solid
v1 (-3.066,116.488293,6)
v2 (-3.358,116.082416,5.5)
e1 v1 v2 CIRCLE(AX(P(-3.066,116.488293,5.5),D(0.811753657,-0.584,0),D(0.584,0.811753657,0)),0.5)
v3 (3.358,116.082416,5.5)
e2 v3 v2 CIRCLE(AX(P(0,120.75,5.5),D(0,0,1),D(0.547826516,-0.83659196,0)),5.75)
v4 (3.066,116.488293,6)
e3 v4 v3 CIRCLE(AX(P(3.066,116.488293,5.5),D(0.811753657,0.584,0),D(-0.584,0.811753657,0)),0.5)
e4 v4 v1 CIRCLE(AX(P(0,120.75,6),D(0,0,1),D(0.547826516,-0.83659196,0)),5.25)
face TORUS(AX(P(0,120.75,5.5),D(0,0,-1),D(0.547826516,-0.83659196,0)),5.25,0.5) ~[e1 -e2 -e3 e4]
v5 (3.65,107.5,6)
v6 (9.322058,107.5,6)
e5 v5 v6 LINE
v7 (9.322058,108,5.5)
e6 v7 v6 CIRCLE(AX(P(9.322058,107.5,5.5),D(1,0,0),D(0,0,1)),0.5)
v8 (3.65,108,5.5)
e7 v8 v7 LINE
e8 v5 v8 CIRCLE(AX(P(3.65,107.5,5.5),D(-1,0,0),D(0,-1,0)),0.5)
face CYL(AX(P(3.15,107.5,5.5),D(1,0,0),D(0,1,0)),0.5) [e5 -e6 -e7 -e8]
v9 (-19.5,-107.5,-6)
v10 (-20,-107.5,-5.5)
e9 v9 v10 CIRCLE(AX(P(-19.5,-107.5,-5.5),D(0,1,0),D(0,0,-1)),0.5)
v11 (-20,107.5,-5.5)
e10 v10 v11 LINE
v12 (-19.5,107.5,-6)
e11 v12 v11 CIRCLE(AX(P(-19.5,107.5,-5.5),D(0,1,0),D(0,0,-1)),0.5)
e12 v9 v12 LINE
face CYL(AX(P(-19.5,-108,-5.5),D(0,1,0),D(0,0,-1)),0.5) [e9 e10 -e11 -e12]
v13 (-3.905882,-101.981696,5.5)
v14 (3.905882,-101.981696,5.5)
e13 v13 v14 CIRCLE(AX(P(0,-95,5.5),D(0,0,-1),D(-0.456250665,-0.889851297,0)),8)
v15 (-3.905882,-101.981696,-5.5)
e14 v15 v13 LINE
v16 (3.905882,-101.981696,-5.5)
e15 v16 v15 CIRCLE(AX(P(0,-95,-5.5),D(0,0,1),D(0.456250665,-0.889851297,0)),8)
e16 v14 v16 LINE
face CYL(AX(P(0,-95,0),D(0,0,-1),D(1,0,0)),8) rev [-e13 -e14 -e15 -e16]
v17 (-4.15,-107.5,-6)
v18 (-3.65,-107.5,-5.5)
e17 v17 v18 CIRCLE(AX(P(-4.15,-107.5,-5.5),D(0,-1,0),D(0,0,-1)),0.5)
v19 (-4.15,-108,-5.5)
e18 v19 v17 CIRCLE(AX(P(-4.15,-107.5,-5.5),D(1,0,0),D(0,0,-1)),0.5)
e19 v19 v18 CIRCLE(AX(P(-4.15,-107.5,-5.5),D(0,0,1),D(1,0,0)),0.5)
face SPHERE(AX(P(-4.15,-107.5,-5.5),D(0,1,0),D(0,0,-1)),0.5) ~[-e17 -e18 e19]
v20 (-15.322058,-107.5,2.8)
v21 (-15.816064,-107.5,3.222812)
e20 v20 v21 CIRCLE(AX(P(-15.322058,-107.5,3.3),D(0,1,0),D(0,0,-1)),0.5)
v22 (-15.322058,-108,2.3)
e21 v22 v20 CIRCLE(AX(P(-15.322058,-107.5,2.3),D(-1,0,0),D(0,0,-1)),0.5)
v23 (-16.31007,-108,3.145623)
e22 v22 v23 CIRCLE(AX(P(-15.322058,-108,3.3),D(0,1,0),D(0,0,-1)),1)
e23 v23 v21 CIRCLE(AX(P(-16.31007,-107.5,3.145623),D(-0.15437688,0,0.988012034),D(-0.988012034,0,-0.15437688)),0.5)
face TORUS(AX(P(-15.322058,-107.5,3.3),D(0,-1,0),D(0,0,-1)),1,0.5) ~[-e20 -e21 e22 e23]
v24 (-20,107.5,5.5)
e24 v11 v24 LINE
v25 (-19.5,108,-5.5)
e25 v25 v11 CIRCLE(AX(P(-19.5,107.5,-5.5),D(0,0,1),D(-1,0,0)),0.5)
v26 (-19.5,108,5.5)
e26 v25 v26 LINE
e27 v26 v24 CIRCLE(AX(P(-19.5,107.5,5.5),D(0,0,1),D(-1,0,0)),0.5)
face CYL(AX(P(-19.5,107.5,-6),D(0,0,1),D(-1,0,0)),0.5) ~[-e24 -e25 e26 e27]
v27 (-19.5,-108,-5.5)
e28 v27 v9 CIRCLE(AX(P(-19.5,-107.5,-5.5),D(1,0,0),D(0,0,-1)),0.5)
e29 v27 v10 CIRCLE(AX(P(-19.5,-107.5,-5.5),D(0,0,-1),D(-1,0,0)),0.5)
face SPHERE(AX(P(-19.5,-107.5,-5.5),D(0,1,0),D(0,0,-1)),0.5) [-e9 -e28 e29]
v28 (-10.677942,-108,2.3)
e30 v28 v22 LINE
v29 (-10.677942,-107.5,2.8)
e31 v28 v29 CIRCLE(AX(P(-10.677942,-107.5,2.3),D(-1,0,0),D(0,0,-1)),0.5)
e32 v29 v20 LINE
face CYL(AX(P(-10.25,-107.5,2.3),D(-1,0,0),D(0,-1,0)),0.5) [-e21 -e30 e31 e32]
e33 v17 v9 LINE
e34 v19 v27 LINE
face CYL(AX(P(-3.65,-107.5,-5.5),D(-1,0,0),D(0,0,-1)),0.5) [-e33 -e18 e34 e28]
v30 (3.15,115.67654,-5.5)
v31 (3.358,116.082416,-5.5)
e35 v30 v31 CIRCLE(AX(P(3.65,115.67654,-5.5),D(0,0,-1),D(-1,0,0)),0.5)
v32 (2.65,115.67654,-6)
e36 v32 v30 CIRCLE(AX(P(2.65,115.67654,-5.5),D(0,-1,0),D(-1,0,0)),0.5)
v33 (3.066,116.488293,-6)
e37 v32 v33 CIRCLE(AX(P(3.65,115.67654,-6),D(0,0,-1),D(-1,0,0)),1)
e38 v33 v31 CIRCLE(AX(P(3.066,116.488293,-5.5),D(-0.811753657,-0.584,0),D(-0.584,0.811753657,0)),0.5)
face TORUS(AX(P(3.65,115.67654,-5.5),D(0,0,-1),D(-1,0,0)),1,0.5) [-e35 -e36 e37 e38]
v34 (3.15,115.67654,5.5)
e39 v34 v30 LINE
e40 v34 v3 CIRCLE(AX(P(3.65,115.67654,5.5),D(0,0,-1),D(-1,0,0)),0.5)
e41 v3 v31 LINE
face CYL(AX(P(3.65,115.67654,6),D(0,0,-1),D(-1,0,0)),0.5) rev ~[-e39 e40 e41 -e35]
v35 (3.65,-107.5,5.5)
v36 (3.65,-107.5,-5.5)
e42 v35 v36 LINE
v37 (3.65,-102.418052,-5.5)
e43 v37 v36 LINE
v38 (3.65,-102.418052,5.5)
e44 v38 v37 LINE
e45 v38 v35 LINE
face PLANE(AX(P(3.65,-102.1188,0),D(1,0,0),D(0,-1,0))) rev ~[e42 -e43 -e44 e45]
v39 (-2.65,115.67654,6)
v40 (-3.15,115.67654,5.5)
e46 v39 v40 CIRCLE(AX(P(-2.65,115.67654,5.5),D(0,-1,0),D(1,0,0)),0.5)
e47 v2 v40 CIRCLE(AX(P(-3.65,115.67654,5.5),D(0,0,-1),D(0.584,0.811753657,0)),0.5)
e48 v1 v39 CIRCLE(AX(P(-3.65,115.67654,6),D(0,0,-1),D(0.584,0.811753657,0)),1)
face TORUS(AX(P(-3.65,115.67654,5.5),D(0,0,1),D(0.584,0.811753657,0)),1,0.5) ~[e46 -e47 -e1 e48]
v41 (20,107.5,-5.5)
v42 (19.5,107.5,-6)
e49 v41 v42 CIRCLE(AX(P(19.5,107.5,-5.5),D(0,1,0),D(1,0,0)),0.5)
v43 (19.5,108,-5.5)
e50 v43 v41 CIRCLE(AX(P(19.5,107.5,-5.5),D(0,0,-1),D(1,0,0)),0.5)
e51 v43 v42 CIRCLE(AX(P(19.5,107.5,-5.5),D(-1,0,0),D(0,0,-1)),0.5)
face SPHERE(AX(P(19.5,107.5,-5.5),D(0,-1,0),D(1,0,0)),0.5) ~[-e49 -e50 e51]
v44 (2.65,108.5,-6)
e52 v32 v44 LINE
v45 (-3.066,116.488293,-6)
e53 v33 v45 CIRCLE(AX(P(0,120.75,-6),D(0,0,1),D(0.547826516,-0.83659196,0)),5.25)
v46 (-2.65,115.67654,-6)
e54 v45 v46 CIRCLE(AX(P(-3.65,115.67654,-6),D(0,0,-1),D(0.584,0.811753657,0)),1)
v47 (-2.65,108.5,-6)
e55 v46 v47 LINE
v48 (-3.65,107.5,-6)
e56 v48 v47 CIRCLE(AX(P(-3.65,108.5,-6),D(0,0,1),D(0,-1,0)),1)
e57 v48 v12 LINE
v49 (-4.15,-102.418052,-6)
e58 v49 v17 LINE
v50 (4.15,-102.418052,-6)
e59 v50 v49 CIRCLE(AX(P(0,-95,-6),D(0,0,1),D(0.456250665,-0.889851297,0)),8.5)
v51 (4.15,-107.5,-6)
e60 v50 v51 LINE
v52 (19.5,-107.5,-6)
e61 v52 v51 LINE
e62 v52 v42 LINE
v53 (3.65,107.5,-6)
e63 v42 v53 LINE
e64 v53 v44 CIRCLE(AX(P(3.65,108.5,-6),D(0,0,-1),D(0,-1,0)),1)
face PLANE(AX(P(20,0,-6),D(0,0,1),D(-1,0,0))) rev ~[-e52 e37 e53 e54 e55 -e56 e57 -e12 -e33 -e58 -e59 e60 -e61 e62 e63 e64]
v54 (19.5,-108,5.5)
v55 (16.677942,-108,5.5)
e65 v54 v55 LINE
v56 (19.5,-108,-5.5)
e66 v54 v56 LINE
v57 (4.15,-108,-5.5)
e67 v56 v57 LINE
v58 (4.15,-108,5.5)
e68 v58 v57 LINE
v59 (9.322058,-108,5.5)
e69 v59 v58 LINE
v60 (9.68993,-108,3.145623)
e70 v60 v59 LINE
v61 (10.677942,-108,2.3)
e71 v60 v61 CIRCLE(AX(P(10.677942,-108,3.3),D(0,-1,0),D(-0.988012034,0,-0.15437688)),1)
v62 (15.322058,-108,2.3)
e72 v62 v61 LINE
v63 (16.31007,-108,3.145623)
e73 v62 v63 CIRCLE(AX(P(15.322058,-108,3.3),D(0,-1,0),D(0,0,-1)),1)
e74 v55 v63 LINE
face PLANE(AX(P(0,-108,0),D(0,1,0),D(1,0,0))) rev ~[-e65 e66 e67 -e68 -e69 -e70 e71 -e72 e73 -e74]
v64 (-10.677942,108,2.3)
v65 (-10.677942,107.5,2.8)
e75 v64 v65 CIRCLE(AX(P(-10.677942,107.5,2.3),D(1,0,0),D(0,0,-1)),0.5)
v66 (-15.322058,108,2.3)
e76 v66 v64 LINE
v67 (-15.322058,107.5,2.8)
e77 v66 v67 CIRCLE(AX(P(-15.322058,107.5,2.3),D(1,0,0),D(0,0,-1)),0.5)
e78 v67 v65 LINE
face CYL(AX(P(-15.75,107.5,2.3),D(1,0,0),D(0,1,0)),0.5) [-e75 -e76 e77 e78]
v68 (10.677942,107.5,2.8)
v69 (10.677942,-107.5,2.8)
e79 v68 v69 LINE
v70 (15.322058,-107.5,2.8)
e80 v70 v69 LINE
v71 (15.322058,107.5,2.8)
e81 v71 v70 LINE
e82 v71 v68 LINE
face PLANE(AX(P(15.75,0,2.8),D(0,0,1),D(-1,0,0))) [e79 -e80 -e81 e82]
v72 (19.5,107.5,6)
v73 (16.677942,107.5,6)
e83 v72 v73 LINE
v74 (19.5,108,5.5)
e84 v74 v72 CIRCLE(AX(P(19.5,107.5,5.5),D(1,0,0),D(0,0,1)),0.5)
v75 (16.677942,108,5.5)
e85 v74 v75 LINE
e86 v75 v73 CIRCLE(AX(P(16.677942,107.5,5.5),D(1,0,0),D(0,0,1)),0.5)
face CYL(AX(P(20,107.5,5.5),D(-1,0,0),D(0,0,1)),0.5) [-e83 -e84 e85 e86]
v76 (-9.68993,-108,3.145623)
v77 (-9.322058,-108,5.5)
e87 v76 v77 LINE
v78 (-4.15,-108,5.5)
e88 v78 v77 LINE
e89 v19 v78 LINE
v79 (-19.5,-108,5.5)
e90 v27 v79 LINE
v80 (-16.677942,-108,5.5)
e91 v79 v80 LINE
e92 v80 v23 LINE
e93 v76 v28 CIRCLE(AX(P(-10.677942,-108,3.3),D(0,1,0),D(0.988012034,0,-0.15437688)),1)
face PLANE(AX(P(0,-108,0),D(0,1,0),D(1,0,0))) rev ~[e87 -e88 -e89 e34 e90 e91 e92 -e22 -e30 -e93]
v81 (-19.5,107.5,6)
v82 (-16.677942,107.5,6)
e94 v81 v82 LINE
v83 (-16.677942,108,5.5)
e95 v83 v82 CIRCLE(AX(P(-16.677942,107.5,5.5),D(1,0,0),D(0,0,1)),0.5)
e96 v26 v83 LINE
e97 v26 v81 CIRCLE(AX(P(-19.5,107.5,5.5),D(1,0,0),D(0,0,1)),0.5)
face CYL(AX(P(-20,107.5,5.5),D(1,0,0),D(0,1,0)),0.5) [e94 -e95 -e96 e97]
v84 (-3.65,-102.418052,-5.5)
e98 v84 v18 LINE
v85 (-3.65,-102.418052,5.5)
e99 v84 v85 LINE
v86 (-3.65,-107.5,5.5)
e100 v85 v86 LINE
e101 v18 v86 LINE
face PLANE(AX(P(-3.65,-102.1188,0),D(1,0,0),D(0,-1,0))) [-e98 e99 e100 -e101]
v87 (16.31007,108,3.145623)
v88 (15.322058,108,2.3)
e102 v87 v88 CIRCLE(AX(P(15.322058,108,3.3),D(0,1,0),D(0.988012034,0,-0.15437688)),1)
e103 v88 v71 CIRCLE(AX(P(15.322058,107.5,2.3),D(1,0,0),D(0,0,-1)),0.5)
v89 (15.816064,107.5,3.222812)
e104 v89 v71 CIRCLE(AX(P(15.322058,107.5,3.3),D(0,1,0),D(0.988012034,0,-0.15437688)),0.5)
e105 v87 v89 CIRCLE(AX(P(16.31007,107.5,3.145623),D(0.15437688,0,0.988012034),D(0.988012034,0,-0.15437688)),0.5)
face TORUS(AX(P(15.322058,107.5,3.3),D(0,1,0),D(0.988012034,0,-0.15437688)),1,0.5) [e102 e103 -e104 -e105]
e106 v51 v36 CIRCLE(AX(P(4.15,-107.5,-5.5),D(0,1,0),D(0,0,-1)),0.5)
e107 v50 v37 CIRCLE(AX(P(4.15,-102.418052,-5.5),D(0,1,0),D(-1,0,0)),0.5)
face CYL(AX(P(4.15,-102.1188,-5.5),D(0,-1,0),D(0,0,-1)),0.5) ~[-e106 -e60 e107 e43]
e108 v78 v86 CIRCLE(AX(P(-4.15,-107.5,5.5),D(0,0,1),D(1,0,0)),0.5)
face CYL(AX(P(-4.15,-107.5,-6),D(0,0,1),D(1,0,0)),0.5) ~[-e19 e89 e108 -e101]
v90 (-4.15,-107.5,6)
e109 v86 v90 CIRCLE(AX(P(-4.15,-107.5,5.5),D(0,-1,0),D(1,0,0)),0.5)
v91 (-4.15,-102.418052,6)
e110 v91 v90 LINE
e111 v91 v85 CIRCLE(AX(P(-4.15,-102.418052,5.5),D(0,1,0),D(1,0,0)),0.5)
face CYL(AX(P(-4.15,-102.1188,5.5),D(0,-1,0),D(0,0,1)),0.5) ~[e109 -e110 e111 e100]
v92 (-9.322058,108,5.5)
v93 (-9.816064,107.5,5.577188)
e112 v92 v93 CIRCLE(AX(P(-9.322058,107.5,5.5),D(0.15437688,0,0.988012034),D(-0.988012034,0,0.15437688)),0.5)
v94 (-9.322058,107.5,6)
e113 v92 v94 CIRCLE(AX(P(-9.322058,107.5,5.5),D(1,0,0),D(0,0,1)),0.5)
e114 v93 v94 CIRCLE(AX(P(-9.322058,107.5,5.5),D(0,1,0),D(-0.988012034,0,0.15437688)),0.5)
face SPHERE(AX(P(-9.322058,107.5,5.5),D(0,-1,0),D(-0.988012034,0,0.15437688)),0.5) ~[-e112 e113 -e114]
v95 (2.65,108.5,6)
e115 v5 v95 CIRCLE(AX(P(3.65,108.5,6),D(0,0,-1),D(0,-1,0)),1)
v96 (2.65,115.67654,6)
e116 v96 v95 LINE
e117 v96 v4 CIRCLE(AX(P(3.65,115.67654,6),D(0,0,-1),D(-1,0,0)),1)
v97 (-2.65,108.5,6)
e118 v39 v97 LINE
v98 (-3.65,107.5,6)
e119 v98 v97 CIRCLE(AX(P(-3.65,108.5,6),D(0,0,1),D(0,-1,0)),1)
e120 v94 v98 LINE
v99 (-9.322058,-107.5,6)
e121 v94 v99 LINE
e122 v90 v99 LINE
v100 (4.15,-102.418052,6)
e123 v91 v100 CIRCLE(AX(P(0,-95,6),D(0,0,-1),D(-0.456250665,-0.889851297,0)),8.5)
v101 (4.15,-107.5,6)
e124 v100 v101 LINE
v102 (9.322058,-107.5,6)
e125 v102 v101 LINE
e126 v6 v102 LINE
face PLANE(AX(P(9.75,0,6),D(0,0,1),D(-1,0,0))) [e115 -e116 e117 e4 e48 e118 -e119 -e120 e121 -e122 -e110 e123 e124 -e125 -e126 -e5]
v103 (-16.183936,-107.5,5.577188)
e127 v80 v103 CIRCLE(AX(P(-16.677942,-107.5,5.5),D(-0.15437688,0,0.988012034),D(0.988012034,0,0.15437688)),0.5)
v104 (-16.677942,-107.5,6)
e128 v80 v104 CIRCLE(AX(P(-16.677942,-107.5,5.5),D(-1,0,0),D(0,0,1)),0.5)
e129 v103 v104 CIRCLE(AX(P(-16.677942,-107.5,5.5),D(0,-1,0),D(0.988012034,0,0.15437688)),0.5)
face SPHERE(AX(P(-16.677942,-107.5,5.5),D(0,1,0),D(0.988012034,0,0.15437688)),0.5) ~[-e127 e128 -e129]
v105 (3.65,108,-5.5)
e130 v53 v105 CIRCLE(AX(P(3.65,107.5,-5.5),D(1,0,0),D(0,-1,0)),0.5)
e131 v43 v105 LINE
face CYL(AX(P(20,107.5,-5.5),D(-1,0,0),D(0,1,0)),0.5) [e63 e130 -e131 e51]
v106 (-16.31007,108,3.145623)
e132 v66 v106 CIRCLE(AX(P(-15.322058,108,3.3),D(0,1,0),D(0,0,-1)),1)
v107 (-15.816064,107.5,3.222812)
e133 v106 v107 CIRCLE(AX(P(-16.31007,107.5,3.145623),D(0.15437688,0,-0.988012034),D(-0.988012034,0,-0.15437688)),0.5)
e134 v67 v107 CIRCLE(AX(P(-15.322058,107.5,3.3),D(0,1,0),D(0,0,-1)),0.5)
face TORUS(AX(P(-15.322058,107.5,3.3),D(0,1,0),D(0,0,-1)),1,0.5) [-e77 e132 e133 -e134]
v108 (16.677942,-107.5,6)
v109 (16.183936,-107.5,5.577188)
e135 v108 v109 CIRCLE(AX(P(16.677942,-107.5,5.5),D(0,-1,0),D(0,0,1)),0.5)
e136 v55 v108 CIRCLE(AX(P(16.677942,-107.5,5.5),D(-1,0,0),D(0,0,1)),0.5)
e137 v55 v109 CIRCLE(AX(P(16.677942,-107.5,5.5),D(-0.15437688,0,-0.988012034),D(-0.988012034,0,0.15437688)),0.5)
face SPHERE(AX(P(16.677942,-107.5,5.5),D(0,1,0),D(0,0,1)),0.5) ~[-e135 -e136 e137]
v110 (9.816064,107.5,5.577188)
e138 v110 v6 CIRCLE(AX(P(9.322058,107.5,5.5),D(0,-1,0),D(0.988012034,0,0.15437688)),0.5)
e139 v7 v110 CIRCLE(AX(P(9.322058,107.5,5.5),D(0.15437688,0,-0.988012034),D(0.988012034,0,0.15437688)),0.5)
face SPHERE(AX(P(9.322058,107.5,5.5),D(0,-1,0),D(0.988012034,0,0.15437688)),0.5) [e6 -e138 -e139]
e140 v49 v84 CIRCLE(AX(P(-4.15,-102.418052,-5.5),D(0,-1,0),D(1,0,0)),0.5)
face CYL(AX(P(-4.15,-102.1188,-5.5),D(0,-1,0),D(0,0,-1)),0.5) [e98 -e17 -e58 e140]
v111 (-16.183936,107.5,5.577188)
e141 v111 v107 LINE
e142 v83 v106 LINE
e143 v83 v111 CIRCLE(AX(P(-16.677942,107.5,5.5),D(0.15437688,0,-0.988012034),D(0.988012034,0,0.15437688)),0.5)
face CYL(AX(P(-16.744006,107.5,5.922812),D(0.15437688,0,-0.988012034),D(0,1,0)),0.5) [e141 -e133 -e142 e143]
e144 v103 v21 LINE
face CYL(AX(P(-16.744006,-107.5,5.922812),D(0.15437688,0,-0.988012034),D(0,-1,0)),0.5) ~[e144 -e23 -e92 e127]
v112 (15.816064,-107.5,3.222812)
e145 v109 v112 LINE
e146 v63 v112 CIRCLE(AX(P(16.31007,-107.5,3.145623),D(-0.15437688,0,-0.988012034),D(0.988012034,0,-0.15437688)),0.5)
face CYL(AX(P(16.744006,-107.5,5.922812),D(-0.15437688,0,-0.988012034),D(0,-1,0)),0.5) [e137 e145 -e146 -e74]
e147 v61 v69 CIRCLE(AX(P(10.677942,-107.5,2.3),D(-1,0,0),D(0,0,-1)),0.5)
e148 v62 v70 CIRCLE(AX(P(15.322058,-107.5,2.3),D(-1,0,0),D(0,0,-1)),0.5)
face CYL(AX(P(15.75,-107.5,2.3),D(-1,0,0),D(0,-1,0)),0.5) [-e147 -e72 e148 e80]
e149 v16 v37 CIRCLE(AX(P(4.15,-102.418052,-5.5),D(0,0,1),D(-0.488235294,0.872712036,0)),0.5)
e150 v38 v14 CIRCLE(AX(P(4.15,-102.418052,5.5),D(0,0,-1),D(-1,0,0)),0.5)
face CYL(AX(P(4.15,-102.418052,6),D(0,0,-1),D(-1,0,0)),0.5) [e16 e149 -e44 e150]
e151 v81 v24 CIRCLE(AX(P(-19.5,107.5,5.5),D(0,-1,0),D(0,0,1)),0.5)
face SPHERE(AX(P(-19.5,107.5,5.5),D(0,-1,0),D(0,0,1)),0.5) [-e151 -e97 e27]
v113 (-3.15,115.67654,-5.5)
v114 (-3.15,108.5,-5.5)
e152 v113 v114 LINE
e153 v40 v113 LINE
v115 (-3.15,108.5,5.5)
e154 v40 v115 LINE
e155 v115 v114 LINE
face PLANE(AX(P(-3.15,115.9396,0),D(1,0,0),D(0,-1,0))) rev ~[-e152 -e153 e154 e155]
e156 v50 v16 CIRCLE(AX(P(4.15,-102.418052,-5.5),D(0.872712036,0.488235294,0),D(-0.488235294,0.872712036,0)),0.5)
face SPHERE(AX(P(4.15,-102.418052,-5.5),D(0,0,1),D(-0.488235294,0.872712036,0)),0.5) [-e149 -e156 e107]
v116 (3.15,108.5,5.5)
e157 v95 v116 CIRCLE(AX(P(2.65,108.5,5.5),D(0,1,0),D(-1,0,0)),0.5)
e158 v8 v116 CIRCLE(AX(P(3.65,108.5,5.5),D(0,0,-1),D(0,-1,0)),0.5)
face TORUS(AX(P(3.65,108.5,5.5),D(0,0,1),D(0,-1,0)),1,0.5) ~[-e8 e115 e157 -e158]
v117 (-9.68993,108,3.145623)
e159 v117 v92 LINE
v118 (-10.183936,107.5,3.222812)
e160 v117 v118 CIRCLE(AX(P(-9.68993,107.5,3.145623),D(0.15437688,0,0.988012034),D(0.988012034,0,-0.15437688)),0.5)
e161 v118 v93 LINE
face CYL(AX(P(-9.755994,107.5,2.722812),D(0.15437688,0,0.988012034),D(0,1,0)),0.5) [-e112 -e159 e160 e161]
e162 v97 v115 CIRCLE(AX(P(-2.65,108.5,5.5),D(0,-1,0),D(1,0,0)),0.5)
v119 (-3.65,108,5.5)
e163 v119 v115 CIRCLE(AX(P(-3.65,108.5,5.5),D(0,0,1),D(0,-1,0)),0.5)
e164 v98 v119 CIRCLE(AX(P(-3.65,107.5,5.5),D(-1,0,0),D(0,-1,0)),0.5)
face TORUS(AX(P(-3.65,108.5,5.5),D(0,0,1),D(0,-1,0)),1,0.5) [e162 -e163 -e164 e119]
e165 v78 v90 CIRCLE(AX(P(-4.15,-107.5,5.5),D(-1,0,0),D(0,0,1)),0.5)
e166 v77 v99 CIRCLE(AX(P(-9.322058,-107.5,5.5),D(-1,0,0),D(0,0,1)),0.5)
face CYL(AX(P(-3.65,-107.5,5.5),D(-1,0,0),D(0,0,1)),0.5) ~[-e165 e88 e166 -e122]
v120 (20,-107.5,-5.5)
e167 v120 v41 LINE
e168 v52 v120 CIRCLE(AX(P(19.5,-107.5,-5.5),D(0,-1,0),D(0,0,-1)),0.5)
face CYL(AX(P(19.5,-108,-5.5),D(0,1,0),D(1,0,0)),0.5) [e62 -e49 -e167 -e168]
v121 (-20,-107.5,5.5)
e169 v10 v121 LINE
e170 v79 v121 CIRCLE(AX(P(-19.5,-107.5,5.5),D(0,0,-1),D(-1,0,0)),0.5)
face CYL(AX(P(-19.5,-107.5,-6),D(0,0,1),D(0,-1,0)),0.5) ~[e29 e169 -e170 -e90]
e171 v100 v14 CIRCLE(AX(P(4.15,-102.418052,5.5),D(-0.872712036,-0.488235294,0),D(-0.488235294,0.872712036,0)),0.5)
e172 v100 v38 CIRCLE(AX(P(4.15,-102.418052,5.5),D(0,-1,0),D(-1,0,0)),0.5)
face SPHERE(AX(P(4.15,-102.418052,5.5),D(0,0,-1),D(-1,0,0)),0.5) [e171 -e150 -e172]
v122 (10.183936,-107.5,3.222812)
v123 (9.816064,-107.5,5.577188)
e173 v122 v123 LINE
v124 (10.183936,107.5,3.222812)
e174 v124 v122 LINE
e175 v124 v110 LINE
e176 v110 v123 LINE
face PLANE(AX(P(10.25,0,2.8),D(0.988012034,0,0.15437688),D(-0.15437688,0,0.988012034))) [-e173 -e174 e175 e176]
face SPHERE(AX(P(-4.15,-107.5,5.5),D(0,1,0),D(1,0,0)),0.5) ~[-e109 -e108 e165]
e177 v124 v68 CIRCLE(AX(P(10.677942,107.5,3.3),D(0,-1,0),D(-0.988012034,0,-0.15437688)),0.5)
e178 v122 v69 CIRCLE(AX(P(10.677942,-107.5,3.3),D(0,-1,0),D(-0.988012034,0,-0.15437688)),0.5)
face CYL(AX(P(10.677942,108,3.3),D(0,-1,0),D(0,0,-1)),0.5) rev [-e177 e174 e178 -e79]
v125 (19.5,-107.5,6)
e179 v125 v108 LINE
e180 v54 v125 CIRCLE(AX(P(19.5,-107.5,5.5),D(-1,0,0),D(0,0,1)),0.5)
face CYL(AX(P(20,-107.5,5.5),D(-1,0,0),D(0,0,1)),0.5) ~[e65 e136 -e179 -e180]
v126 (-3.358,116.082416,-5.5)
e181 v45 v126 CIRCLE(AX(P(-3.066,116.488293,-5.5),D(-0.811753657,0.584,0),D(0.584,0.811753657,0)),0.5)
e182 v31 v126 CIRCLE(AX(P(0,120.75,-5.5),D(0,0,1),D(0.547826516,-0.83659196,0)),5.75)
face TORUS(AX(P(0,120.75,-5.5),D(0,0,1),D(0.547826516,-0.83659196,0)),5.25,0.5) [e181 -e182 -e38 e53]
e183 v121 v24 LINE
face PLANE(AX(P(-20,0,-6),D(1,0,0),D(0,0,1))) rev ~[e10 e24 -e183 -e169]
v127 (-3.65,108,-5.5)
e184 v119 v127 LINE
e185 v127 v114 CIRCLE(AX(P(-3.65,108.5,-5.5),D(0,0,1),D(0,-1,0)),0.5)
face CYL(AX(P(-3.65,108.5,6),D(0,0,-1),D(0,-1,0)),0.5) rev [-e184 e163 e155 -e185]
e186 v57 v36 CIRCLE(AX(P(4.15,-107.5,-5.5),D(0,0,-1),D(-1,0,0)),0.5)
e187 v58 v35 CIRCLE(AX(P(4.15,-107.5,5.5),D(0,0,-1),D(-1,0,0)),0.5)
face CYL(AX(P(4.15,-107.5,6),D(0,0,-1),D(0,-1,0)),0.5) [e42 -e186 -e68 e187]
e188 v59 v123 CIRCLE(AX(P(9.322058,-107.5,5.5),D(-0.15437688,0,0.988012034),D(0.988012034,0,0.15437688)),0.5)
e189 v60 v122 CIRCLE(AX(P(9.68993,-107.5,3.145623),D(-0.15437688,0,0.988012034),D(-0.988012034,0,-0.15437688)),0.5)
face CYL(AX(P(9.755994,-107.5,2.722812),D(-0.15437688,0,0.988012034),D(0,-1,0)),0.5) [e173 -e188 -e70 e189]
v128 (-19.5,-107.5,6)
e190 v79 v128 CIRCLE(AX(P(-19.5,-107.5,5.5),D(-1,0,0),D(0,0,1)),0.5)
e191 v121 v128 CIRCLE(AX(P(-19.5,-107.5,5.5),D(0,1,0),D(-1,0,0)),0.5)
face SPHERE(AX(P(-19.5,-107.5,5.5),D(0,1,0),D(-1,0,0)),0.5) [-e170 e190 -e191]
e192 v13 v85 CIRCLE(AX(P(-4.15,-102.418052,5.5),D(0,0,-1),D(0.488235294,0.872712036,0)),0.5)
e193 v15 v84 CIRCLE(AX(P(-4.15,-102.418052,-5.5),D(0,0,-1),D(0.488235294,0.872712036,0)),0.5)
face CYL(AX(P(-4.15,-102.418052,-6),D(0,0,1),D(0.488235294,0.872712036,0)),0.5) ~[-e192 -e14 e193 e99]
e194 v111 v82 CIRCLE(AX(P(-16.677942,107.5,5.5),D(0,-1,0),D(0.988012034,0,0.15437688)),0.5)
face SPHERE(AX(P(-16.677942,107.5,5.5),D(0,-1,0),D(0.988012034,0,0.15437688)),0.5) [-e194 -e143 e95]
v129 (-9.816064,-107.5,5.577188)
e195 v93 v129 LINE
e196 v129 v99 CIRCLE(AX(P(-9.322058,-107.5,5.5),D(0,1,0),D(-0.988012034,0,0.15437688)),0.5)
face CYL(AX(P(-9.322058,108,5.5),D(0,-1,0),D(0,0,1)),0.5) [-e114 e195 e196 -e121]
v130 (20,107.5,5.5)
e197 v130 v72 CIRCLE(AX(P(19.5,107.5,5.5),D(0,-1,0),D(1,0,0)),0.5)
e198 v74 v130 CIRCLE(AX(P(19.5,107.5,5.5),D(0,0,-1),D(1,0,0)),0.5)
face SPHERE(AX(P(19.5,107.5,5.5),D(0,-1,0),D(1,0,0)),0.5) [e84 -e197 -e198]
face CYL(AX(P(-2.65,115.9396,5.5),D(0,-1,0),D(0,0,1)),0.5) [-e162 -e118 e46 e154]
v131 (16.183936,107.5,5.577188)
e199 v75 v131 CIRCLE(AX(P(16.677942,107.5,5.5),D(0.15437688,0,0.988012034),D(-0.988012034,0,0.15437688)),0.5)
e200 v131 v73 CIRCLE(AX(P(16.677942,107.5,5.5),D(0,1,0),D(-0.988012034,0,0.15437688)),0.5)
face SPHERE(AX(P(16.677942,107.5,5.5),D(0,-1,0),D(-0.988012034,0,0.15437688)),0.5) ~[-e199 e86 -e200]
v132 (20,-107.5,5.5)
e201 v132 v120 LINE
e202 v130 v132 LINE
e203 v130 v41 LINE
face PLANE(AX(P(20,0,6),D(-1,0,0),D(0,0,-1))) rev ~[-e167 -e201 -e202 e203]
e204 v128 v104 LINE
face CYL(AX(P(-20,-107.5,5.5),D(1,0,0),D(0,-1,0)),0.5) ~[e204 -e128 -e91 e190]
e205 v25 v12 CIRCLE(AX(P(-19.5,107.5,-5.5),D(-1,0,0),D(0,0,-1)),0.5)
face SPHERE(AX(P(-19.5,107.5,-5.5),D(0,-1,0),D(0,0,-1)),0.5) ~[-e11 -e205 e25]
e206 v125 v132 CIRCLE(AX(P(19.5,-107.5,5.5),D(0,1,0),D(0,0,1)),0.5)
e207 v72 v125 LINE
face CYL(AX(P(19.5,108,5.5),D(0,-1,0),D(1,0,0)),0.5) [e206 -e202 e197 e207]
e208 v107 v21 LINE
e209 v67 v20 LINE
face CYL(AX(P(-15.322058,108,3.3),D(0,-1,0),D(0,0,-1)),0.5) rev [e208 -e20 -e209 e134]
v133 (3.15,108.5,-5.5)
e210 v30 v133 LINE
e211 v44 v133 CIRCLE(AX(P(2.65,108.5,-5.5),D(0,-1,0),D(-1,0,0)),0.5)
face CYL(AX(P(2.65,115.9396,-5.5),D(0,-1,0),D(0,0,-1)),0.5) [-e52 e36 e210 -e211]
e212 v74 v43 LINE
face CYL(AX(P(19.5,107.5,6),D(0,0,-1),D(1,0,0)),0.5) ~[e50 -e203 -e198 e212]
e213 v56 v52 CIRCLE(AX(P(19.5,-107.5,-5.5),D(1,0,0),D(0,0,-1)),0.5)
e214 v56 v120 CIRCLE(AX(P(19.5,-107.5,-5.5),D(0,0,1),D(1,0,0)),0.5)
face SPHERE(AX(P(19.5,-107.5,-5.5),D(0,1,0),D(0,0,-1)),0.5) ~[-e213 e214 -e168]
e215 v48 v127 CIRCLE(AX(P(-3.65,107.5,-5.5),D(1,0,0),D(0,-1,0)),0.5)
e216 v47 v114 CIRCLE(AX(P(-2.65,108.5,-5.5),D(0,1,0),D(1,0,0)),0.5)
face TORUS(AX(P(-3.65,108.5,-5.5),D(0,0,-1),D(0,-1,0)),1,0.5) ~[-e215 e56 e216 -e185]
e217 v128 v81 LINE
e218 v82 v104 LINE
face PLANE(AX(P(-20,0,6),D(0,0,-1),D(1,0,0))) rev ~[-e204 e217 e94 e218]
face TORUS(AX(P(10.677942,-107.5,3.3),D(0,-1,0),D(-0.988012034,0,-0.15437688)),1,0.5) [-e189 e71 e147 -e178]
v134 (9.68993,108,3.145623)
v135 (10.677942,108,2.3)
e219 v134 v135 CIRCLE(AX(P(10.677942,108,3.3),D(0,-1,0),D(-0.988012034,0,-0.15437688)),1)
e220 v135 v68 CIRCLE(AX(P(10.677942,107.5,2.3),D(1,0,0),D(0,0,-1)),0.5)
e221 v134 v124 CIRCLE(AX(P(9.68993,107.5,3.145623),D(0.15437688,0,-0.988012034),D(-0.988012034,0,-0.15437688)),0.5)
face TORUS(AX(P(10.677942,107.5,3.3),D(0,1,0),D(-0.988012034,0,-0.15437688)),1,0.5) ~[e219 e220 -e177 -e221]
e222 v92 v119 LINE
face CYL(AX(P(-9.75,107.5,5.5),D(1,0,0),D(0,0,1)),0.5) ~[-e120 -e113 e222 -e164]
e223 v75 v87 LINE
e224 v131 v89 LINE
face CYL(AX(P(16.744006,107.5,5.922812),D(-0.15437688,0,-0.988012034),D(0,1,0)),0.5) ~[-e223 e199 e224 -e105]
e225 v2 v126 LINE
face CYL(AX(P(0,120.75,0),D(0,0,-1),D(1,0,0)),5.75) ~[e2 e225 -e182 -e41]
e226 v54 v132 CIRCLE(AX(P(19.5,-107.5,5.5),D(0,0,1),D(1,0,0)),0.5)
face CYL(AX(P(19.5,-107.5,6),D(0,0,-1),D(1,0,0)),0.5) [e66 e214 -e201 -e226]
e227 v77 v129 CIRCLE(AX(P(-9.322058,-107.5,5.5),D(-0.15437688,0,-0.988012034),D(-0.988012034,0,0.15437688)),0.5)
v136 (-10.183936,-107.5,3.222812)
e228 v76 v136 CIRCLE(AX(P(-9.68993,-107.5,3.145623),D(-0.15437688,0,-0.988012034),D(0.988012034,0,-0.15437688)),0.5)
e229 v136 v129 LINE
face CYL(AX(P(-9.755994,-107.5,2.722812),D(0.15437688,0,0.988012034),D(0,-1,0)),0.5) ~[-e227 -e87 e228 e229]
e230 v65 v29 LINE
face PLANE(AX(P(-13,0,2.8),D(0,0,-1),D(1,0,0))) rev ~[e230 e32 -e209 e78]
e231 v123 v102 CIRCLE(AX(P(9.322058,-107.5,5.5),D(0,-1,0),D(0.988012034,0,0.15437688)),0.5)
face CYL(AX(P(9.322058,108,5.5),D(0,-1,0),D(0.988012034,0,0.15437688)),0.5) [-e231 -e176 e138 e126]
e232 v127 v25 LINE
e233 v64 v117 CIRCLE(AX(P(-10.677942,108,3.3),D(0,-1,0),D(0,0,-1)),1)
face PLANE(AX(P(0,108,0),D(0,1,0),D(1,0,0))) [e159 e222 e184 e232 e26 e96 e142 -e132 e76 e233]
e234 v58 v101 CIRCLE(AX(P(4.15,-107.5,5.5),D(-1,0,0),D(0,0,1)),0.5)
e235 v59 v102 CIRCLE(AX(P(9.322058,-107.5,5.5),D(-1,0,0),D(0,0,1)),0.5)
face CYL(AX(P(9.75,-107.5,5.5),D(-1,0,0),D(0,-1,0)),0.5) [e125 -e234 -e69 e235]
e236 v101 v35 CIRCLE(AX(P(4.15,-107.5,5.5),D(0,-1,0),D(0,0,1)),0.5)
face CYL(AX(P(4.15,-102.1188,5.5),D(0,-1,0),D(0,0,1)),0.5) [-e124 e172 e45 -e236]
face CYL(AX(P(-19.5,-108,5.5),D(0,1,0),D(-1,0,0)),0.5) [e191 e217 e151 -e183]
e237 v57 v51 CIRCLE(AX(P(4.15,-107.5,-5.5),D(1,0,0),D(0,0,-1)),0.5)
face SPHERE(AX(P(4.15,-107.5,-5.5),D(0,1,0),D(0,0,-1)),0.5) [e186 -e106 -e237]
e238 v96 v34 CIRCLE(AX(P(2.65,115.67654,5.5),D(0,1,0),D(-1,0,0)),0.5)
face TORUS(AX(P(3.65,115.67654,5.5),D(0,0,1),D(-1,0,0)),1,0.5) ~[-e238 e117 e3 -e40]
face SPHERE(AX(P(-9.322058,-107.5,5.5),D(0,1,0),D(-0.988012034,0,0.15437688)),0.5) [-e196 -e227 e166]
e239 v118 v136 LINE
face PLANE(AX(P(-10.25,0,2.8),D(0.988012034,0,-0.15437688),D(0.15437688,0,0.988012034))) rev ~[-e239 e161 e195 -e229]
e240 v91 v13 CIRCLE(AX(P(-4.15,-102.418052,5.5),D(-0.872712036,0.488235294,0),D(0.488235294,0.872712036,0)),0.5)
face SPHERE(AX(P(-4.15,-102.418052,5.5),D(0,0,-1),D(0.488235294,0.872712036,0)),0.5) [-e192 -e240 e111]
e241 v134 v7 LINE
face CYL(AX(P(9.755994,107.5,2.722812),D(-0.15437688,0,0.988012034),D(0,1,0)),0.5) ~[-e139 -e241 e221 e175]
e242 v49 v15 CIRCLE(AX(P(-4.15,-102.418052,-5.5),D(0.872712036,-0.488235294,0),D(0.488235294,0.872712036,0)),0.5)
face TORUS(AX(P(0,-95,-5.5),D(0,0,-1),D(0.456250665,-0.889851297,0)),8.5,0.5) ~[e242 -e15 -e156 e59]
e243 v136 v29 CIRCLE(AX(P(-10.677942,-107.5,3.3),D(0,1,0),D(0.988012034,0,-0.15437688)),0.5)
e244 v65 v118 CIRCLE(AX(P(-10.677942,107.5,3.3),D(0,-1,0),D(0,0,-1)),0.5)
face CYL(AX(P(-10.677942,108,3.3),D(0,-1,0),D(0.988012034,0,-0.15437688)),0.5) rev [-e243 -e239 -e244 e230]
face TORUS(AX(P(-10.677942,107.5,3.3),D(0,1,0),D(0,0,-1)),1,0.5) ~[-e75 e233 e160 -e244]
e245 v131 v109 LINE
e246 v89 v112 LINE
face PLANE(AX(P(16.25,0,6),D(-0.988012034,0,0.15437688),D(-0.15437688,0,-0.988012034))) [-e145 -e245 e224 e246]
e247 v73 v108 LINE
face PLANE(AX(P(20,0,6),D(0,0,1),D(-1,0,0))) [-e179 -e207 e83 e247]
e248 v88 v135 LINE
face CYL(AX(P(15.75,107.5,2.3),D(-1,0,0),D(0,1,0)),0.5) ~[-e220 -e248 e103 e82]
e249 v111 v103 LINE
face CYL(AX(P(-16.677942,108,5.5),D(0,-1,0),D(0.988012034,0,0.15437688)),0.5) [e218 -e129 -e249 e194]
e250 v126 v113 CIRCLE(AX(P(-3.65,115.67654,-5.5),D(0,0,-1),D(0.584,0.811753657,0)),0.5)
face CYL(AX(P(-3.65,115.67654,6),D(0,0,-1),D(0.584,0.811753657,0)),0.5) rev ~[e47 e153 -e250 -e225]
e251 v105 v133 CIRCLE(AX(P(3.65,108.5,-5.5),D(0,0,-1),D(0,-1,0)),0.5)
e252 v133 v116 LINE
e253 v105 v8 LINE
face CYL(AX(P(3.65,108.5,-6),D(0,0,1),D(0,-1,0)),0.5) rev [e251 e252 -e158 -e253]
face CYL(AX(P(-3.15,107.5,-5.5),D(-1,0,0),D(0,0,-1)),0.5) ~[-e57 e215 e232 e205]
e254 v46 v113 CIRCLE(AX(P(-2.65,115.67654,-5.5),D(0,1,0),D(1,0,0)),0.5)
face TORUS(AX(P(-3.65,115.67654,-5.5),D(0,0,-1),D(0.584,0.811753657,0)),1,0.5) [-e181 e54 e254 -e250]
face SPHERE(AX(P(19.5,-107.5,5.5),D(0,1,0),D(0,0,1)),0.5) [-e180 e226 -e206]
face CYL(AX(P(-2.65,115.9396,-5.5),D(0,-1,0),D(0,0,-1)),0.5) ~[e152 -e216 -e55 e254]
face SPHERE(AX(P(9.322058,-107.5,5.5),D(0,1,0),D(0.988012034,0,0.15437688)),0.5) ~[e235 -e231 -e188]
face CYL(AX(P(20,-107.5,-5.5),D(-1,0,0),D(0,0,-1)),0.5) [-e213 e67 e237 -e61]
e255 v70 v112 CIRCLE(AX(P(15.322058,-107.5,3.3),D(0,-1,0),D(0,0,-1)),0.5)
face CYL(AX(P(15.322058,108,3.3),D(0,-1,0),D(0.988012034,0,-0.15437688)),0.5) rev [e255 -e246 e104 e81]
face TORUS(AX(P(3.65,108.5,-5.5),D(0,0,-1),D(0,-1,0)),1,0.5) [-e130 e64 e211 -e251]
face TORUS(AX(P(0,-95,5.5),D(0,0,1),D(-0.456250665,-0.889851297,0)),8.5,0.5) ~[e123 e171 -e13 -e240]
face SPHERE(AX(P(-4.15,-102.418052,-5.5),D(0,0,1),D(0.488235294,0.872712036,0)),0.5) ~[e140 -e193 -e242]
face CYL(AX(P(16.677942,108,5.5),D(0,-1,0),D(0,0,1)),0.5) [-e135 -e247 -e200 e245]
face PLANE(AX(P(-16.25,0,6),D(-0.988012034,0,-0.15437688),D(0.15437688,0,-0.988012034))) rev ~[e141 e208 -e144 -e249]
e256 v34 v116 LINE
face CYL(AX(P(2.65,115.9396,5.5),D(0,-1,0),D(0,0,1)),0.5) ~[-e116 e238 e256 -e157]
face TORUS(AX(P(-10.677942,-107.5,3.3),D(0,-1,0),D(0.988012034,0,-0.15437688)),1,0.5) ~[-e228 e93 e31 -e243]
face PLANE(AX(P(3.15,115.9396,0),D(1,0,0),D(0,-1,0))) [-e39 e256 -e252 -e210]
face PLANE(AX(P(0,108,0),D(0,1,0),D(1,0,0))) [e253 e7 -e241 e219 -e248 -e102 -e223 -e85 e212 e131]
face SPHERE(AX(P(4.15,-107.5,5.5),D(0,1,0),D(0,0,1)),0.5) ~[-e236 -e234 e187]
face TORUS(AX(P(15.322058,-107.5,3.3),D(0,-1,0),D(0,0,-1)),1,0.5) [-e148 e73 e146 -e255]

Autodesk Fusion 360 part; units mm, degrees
sketch "Skizze1" plane through (0, 0, 0) normal (0, 1, 0) x (1, 0, 0)
  line L0 (20, 6) -> (-20, 6)
  line L1 (-20, 6) -> (-20, -6)
  line L2 (-20, -6) -> (20, -6) construction
  line L3 (20, -6) -> (20, 6)
  line L4 (20, 6) -> (-20, -6) construction
  line L5 (-20, 6) -> (20, -6) construction
  line L6 (-16.25, -6) -> (-15.75, -2.8)
  line L7 (-15.75, -2.8) -> (-10.25, -2.8)
  line L8 (-10.25, -2.8) -> (-9.75, -6)
  line L9 (-13, -2.8) -> (-13, -6)
  line L10 (0, 6) -> (0, -6) construction
  line L11 (-20, -6) -> (-16.25, -6)
  line L12 (-9.75, -6) -> (0, -6)
  line L13 (20, -6) -> (16.25, -6)
  line L14 (16.25, -6) -> (15.75, -2.8)
  line L15 (15.75, -2.8) -> (10.25, -2.8)
  line L16 (10.25, -2.8) -> (9.75, -6)
  line L17 (9.75, -6) -> (0, -6)
  dimension "d28" = 40
  dimension "d29" = 12
  dimension "d30" = 6.5
  dimension "d31" = 5.5
  dimension "d33" = 3.2
  dimension "d34" = 13
sketch "Skizze2" plane through (0, 0, 0) normal (0, 0, 1) x (1, 0, 0)
  line L0 (20, 108) -> (-20, 108) construction
  line L1 (-20, 108) -> (-20, -108) construction
  line L2 (-20, -108) -> (20, -108) construction
  line L3 (20, -108) -> (20, 108) construction
  line L4 (20, 108) -> (-20, -108) construction
  line L5 (-20, 108) -> (20, -108) construction
  line L6 (0, 108) -> (0, -108)
  circle A0 centre (0, -95) radius 8
  circle A1 centre (0, 120.75) radius 5.75
  line L7 (3.15, 115.9396) -> (3.15, 108)
  line L8 (-3.15, 115.9396) -> (-3.15, 108)
  line L9 (3.65, -102.1188) -> (3.65, -108)
  line L10 (-3.65, -102.1188) -> (-3.65, -108)
  line L11 (-3.65, -108) -> (3.65, -108)
  line L12 (-3.15, 108) -> (3.15, 108)
  point P0 (20, 0)
  point P1 (-20, 0)
  dimension "d35" = 216
  dimension "d36" = 16
  dimension "d37" = 13
  dimension "d38" = 7.3
  dimension "d39" = 11.5
  dimension "d40" = 12.75
  dimension "d41" = 6.3
extrude "Extrusion1" add sketch "Skizze1" along normal mid plane 216 in component "long track"
extrude "Extrusion2" cut sketch "Skizze2" along normal mid plane 12 contours L6 A0 | L6 A0 | L6 A0 L9 L11 | L6 A0 L10 L11 in component "long track"
extrude "Extrusion3" add sketch "Skizze2" along normal mid plane 12 contours A1 L7 L8 L12 | A1 in component "long track"
fillet "Abrundung1" radius 0.5 60 edges at (3.65, -105.0594, 6) (20, 0, 6) (6.7, -108, 6) (-16.25, 0, 6) (-10.25, 0, 2.8) (16.25, 0, 6) (15.75, 0, 2.8) (10.25, 0, 2.8) (-20, 0, -6) (-9.75, 0, 6) (20, 0, -6) (-20, 0, 6) (9.75, 0, 6) (-15.75, 0, 2.8) (0, -87, 6) (-13, 108, 2.8) (3.65, -105.0594, -6) (-16, 108, 4.4) (-3.65, -105.0594, -6) (-10, 108, 4.4) (11.825, -108, -6) (20, 108, 0) (-11.575, 108, -6) (-3.15, 111.9698, -6) (-18.125, 108, 6) (16, 108, 4.4) (-3.15, 111.9698, 6) (10, -108, 4.4) (3.15, 111.9698, 6) (3.15, 108, 0) (3.65, -102.1188, 0) (11.575, 108, -6) (-3.65, -105.0594, 6) (10, 108, 4.4) (-3.65, -102.1188, 0) (-10, -108, 4.4) (13, 108, 2.8) (-13, -108, 2.8) (-11.825, -108, -6) (-20, -108, 0) (-3.15, 115.9396, 0) (13, -108, 2.8) (18.125, -108, 6) (3.65, -108, 0) (-3.15, 108, 0) (16, -108, 4.4) (-20, 108, 0) (18.125, 108, 6) (20, -108, 0) (-3.65, -108, 0) (6.45, 108, 6) (-16, -108, 4.4) (3.15, 111.9698, -6) (-18.125, -108, 6) (0, 126.5, -6) (0, -87, -6) (0, 126.5, 6) (-6.7, -108, 6) (3.15, 115.9396, 0) (-6.45, 108, 6) 22 faces at (-10.0833, -36, 3.8667) (-16.0833, -36, 4.9333) (10.0833, -36, 3.8667) (-3.65, -104.0792, -2) (20, -36, 2) (13.9167, -36, 2.8) (3.65, -104.0792, -2) (-20, 36, 2) (11.1333, 108, -3.0667) (-11.3, -108, -3.0667) (16.0833, -36, 4.9333) (-3.15, 110.6465, 2) (11.3, -108, -3.0667) (-13.9167, -36, 2.8) (18.75, -36, 6) (-17.5, 36, 6) (8.1105, 42.9708, -6) (4.3, 43, 6) (-6.6798, -90.5976, 2) (5.6, 122.0546, -2) (3.15, 113.2931, -2) (-11.1333, 108, -3.0667) in component "long track"
component "long track" placed x (1, 0, 0) y (0, 1, 0) z (0, 0, 1) at (0, 0, 0)
equation "track_height = 12 mm"
equation "track_width = 40 mm"
equation "groove_distance_cc = 26 mm"
equation "groove_wide_top = 6.5 mm"
equation "groove_wide_bottom = 5.5 mm"
equation "groove_deep = 3.2 mm"
equation "groove_spacing_double_track_cc = 46 mm"
equation "hole_diameter = 16 mm"
equation "hole_distance = 5 mm"
equation "hole_center_track_end = hole_diameter / 2 + hole_distance"
equation "hole_web_width = 7.3 mm"
equation "spigot_diameter = 11.5 mm"
equation "spigot_distance = 7 mm"
equation "spigot_center_track_end = spigot_diameter / 2 + spigot_distance"
equation "spigot_web_width = 6.3 mm"
equation "long_track_length = 216 mm"
equation "middle_track_length = long_track_length * 2 / 3"
equation "short_track_length = long_track_length / 2"
equation "mini_track_length = long_track_length / 4"
equation "A2_track_length = 72 mm"
equation "long_curve_inner_radius = 182 mm"
equation "short_curve_inner_radius = 91 mm"
equation "switching_track_lenght = middle_track_length"
equation "mechanical_switches_length = long_track_length * 2 / 3"
equation "fillet = 0.5 mm"
equation "d28 = track_width"
equation "d29 = track_height"
equation "d30 = groove_wide_top"
equation "d31 = groove_wide_bottom"
equation "d33 = groove_deep"
equation "d34 = groove_distance_cc / 2"
equation "d35 = long_track_length"
equation "d36 = hole_diameter"
equation "d37 = hole_center_track_end"
equation "d38 = hole_web_width"
equation "d39 = spigot_diameter"
equation "d40 = spigot_center_track_end"
equation "d41 = spigot_web_width"
equation "d42 = long_track_length"
equation "d44 = track_height"
equation "d46 = track_height"
equation "d49 = fillet"
